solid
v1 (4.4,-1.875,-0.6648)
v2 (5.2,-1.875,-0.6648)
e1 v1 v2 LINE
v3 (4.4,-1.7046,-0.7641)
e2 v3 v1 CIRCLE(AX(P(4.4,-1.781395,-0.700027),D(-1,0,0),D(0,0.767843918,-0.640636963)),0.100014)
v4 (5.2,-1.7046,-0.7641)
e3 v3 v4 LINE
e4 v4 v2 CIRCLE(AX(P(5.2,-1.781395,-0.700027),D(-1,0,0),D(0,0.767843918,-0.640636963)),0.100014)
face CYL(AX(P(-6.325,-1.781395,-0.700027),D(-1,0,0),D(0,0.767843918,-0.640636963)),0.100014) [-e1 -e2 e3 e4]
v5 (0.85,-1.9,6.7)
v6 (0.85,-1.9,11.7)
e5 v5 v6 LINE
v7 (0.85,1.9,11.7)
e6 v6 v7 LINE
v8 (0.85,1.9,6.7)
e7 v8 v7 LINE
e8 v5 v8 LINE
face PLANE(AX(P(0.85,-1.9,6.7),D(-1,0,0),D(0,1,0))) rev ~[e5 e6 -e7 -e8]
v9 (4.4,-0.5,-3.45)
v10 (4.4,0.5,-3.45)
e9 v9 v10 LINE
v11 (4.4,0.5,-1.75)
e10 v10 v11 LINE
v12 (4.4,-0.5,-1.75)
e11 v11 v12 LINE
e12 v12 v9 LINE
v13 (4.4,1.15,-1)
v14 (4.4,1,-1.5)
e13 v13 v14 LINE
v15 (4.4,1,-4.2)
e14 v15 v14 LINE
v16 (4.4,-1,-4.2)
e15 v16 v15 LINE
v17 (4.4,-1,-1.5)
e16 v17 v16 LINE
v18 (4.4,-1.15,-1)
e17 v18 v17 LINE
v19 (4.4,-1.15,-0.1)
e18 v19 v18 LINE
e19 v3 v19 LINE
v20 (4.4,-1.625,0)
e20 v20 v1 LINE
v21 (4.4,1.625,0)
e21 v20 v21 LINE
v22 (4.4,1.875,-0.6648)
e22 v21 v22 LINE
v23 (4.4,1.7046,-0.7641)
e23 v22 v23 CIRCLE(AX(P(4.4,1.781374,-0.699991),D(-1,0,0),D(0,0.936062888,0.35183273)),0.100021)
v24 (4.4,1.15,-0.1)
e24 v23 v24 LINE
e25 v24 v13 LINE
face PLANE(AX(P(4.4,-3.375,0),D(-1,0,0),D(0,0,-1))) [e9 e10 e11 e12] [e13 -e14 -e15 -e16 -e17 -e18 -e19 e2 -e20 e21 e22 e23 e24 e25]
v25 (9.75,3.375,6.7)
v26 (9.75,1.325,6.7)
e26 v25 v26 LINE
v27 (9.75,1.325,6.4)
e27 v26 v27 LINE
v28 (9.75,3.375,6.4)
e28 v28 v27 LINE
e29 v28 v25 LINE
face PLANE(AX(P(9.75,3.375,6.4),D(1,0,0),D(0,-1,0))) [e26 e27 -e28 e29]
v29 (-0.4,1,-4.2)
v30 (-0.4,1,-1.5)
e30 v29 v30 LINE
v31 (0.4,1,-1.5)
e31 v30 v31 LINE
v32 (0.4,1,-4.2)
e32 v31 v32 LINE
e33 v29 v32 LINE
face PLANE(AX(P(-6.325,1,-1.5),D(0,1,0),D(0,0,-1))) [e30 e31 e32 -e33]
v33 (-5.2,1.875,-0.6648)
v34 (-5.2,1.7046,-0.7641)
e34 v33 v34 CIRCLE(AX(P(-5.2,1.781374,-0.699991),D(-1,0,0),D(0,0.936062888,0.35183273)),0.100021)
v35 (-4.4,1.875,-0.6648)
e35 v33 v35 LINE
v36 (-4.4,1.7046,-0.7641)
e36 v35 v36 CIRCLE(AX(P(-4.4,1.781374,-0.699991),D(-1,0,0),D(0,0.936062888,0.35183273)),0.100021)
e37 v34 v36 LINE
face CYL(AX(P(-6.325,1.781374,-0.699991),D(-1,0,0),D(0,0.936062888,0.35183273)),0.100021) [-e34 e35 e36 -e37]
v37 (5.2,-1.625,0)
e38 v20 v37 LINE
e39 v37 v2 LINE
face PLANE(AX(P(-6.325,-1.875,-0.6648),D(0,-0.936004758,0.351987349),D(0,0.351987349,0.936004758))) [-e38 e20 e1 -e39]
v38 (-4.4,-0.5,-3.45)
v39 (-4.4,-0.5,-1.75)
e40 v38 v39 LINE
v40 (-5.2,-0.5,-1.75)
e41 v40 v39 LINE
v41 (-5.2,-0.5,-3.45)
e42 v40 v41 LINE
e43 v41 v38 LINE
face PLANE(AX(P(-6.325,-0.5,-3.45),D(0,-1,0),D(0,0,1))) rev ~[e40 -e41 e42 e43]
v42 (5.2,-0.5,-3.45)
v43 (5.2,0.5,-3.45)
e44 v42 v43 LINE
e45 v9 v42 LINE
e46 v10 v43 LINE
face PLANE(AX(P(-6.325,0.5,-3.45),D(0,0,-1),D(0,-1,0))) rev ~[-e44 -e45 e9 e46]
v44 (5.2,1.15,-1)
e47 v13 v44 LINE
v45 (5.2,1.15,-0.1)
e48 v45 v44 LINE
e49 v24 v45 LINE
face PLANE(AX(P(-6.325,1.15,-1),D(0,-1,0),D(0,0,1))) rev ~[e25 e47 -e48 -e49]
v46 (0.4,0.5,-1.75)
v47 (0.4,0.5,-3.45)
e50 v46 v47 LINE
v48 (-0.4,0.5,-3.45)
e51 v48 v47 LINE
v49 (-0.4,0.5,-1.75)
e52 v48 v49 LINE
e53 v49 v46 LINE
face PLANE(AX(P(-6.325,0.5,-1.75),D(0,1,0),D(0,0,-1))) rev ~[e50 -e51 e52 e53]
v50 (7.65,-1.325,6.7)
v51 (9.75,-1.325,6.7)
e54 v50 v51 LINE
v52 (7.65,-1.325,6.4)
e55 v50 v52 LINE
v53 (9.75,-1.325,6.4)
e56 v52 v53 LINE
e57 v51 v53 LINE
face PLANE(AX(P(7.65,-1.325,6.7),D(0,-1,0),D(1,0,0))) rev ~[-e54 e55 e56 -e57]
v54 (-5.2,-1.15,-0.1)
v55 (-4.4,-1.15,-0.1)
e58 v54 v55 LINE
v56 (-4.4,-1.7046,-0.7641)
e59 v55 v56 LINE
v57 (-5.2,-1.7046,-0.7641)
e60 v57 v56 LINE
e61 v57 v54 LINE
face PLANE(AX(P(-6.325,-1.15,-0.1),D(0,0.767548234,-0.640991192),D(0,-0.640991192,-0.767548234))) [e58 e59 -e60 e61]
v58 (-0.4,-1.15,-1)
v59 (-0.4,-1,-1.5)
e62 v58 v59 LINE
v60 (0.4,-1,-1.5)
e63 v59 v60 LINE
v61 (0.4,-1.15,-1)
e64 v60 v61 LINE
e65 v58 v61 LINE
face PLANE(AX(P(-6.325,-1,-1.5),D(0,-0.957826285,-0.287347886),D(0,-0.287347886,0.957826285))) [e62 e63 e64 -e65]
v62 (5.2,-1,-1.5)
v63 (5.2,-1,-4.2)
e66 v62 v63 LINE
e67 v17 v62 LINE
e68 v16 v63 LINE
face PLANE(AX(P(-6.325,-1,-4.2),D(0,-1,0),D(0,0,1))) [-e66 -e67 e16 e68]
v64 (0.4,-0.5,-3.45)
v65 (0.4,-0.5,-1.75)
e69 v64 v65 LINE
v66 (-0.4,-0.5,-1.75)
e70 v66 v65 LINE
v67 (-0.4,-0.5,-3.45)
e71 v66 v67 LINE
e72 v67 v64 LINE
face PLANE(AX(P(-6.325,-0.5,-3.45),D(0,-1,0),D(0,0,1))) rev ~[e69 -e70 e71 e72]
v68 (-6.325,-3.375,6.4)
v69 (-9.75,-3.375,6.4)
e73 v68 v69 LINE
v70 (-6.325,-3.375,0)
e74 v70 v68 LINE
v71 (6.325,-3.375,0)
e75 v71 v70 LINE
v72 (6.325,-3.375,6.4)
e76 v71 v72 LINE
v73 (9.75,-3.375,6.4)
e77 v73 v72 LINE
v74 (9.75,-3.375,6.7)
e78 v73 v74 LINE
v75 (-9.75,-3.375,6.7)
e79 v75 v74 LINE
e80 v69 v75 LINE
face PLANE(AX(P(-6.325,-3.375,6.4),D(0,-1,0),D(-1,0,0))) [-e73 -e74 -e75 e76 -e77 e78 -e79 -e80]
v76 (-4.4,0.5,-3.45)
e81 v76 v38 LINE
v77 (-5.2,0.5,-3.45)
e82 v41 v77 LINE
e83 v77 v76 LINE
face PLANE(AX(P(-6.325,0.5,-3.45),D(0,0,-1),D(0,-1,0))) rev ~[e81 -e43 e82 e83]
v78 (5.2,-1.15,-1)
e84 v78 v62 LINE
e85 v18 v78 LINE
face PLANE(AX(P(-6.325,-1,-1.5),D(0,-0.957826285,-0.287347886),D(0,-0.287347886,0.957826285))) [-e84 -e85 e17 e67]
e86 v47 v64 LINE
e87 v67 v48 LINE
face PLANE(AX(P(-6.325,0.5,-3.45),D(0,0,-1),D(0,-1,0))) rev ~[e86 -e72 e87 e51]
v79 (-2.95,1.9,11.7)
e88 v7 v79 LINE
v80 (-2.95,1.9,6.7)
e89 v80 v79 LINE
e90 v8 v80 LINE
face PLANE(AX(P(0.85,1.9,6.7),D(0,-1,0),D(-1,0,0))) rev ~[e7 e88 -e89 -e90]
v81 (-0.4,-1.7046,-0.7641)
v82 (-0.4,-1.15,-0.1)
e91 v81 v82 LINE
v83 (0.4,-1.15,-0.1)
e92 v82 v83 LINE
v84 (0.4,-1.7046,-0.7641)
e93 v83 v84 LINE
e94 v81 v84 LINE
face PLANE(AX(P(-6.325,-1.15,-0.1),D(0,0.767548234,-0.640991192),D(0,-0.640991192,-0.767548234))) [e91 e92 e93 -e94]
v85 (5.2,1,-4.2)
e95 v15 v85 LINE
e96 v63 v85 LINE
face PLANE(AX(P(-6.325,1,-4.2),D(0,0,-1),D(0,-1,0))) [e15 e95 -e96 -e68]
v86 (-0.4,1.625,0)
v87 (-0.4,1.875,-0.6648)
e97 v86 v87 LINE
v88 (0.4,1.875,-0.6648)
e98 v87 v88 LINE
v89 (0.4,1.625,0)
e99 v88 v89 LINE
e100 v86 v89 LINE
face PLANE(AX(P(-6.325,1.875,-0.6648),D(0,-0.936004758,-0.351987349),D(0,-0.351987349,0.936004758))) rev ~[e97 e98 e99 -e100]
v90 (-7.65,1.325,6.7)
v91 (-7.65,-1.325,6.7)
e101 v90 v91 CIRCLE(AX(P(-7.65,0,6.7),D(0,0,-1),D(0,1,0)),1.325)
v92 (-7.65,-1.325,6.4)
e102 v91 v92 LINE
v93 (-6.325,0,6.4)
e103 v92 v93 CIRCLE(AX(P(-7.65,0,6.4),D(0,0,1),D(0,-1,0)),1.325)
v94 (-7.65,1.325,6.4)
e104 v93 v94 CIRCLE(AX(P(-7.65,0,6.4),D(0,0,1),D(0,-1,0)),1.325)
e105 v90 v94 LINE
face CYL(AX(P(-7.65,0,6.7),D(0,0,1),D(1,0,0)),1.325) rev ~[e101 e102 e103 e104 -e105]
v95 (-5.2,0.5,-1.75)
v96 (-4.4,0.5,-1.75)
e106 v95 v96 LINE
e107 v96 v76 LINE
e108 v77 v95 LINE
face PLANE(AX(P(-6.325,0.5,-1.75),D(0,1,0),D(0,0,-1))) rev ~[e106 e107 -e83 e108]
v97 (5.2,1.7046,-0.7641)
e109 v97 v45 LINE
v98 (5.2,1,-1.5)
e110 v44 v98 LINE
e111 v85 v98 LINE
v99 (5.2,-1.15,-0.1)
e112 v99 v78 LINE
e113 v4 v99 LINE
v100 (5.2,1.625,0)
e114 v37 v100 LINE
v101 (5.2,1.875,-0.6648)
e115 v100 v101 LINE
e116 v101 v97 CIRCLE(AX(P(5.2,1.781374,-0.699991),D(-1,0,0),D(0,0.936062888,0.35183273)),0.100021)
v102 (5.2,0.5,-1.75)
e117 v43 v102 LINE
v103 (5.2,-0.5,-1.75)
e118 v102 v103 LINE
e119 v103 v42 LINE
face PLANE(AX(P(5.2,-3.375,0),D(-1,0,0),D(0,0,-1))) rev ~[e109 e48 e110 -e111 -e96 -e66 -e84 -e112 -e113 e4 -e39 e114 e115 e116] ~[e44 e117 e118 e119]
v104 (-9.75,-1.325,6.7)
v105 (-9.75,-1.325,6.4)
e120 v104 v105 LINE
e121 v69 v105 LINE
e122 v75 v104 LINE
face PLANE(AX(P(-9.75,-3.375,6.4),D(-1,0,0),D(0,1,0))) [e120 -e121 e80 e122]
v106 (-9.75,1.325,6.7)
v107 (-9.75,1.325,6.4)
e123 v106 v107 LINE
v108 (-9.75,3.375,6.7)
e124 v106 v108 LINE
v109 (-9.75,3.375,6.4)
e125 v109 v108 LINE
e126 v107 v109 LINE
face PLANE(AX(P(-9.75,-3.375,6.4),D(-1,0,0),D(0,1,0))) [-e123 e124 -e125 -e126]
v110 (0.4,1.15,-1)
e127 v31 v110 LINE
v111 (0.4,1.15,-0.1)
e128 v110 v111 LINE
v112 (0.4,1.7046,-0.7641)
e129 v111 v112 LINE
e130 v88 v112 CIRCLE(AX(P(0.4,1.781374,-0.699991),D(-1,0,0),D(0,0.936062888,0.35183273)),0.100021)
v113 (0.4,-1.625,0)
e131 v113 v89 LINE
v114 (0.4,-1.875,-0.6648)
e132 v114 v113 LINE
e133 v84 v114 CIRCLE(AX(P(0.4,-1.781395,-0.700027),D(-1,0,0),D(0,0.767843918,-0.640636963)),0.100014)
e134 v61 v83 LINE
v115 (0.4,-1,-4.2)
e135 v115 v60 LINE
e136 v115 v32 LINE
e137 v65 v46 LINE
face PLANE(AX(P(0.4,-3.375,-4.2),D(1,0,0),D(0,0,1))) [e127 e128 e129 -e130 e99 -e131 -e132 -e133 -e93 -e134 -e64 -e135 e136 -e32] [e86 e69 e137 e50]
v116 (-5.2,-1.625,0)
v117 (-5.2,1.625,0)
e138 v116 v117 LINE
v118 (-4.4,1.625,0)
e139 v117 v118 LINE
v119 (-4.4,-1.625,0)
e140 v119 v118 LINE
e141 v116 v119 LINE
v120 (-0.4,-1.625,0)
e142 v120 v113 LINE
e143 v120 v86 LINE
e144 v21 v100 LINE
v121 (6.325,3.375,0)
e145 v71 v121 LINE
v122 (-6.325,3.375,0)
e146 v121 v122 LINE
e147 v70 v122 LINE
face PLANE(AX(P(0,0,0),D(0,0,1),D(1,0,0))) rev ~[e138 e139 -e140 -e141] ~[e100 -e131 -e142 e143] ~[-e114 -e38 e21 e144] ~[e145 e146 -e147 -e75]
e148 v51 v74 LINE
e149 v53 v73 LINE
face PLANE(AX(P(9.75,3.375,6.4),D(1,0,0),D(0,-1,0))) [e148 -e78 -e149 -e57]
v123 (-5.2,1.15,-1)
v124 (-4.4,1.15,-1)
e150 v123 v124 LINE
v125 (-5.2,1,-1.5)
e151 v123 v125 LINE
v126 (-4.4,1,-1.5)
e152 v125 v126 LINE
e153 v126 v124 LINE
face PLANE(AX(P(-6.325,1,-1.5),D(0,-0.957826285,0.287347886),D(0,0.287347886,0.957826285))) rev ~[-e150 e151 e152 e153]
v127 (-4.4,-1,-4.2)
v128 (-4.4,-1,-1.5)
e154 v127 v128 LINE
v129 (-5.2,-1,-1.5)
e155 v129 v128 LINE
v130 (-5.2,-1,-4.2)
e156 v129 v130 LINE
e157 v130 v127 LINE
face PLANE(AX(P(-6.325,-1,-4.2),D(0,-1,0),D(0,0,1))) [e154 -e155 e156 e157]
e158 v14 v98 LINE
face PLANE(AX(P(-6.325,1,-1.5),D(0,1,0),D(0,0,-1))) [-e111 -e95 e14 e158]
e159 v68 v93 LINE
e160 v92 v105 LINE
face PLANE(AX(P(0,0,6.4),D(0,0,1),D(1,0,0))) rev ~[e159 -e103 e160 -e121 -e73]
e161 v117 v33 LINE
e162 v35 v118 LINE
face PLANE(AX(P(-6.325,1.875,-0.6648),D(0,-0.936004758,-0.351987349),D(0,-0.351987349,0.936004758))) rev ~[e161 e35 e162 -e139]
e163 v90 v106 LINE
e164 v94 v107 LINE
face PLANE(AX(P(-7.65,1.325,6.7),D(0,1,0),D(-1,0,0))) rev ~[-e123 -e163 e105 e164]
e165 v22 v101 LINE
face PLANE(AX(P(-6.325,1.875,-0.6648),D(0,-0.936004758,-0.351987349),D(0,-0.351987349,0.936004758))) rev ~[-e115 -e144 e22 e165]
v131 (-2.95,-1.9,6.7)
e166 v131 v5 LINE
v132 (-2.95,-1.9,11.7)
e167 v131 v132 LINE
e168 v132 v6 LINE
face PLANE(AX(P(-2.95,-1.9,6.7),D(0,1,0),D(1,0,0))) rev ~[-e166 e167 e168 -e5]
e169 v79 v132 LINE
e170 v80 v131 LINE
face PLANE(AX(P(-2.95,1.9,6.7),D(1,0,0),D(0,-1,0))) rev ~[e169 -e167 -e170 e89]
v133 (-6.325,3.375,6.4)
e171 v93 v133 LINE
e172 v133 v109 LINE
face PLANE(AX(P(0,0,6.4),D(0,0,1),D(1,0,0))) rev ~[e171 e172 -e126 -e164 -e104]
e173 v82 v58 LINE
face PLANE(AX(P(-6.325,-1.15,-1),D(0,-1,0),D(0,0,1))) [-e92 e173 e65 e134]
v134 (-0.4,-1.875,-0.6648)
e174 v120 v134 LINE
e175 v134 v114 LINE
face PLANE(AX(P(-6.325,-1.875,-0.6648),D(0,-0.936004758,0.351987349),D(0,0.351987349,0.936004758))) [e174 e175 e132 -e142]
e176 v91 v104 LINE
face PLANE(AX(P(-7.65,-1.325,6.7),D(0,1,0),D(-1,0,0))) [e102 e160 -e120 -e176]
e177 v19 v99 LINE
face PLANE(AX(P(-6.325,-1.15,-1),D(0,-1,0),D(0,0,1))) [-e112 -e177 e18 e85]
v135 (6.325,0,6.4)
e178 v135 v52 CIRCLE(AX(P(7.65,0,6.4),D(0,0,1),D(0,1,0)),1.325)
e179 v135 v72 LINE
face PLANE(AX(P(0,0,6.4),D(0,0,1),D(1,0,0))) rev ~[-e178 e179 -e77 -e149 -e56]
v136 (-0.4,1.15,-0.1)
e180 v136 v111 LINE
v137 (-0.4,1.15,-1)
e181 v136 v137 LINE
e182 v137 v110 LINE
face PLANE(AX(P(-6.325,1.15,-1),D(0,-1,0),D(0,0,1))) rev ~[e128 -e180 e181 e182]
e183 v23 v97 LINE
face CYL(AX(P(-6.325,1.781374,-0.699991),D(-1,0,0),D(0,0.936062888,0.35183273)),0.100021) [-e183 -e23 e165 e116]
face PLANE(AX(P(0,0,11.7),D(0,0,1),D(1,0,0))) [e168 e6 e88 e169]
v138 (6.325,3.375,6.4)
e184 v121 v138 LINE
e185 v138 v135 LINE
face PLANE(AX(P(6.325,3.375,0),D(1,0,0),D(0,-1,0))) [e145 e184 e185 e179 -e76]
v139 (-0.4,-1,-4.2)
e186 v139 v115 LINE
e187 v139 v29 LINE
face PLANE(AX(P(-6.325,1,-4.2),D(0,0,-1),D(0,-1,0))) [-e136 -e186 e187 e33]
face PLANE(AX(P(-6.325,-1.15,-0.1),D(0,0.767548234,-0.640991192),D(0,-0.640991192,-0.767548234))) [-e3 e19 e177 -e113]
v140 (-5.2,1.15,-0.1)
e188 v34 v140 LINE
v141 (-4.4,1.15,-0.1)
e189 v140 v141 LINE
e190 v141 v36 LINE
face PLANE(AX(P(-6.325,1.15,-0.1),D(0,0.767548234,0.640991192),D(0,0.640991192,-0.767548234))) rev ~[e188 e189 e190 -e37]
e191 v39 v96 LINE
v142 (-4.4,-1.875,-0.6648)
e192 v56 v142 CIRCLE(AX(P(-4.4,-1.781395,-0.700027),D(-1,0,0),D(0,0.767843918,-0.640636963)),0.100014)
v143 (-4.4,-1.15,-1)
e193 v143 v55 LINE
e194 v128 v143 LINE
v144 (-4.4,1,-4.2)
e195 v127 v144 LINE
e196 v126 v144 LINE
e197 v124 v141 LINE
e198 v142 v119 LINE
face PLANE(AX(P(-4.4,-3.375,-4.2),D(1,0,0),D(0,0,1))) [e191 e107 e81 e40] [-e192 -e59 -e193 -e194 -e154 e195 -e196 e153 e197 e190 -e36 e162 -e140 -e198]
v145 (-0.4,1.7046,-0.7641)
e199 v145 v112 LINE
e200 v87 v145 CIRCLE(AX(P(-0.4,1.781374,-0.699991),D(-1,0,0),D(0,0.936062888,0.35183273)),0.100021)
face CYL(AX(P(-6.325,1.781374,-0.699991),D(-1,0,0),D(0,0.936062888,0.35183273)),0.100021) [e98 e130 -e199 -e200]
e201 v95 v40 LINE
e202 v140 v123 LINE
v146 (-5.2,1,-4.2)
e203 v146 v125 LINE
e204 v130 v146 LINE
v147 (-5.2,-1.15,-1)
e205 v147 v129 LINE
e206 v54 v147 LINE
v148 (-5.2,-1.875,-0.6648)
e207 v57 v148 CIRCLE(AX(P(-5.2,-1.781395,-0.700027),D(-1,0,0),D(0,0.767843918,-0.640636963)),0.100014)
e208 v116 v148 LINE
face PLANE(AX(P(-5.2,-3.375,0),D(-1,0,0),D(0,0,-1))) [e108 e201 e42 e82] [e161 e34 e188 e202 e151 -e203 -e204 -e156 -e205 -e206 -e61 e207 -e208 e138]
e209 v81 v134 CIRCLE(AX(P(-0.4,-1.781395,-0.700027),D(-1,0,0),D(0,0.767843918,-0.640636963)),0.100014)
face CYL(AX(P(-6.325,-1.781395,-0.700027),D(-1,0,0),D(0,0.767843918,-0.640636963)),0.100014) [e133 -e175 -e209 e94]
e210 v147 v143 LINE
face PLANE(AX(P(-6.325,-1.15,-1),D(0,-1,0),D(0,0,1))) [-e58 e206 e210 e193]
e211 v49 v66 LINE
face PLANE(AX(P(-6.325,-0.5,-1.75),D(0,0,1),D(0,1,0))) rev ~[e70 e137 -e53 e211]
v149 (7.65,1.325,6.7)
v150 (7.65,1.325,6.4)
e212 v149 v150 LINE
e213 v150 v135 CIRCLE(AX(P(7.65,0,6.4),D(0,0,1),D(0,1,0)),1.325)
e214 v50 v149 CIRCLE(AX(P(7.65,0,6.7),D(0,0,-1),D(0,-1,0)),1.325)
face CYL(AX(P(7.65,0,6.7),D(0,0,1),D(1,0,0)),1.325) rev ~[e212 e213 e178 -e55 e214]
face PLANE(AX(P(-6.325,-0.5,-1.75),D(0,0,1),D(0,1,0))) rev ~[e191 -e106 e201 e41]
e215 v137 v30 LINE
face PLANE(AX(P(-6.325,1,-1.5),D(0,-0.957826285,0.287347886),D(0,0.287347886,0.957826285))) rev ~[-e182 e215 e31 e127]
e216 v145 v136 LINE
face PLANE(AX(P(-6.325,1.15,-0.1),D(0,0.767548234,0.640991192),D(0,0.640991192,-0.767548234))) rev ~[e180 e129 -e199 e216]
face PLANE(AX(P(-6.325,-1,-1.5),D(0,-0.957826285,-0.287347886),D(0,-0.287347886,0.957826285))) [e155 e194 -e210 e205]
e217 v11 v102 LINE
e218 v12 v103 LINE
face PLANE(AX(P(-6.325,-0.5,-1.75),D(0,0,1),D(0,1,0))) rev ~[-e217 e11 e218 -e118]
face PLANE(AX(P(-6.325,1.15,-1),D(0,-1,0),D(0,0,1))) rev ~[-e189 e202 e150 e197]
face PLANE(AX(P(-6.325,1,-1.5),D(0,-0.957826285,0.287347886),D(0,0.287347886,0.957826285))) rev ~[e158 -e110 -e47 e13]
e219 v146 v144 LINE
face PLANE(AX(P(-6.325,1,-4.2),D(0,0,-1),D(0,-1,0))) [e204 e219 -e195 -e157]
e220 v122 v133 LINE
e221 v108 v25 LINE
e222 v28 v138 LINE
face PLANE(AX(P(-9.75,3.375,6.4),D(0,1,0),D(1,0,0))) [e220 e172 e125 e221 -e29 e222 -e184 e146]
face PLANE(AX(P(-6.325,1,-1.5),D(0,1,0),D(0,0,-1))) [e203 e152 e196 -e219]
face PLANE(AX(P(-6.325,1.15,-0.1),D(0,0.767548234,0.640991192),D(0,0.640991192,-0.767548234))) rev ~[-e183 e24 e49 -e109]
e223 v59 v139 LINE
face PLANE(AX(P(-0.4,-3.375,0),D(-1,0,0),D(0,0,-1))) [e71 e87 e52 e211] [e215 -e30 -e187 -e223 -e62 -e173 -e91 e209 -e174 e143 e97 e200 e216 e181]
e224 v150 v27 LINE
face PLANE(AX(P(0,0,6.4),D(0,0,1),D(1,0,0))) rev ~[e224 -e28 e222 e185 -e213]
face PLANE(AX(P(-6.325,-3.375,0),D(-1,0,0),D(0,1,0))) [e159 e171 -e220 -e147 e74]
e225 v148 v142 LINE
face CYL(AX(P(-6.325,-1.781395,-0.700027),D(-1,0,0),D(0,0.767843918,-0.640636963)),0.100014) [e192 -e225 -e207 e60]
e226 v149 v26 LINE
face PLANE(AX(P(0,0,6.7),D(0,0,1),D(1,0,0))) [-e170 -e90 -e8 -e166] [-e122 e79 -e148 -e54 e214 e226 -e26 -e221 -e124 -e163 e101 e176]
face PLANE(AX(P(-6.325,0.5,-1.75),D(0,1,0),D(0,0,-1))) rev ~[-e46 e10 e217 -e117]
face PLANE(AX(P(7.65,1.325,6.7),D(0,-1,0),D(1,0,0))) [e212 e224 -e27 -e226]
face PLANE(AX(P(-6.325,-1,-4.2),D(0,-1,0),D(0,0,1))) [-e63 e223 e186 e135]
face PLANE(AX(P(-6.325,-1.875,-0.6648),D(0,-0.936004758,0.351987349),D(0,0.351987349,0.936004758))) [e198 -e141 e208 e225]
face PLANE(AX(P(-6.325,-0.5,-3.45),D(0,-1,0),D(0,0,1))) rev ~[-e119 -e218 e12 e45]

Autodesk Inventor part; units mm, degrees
ref_plane "YZ Plane" through (0, 0, 0) normal (1, 0, 0) x (0, 1, 0)
ref_plane "XZ Plane" through (0, 0, 0) normal (0, 1, 0) x (-1, 0, 0)
ref_plane "XY Plane" through (0, 0, 0) normal (0, 0, 1) x (1, 0, 0)
sketch "Náčrt1" plane through (0, 0, 0) normal (0, 0, 1) x (1, 0, 0)
  line L0 (-6.325, 3.375) -> (6.325, 3.375)
  line L1 (6.325, 3.375) -> (6.325, -3.375)
  line L2 (6.325, -3.375) -> (-6.325, -3.375)
  line L3 (-6.325, -3.375) -> (-6.325, 3.375)
  line L4 (0, 0) -> (-6.325, 3.375) construction
  line L5 (6.325, 3.375) -> (0, 0) construction
  line L6 (6.325, -3.375) -> (0, 0) construction
  dimension "d0" = 12.65
  dimension "d1" = 6.75
extrude "Vysunutí1" add sketch "Náčrt1" along normal blind 6.4
sketch "Náčrt2" plane through (0, 0, 6.4) normal (0, 0, 1) x (1, 0, 0)
  line L0 (-9.75, 3.375) -> (9.75, 3.375)
  line L1 (9.75, 3.375) -> (9.75, -3.375)
  line L2 (9.75, -3.375) -> (-9.75, -3.375)
  line L3 (-9.75, -3.375) -> (-9.75, 3.375)
  line L4 (6.325, -3.375) -> (6.325, 3.375) projected
  line L5 (6.325, 0) -> (9.75, 0) construction
  line L6 (-9.75, 0) -> (-6.325, 0) construction
  line L7 (-6.325, 3.375) -> (-6.325, -3.375) projected
  point P0 (0, 0)
  dimension "d4" = 19.5
extrude "Vysunutí2" add sketch "Náčrt2" along normal blind 0.3
sketch "Náčrt3" plane through (0, 0, 6.7) normal (0, 0, 1) x (1, 0, 0)
  circle A0 centre (-7.65, 0) radius 1.325
  circle A1 centre (7.65, 0) radius 1.325
  line L0 (-6.325, 3.375) -> (-6.325, -3.375) projected
  line L1 (6.325, -3.375) -> (6.325, 3.375) projected
  line L2 (-7.65, 1.325) -> (-9.75, 1.325)
  line L3 (-9.75, 3.375) -> (-9.75, -3.375) projected
  line L4 (-7.65, -1.325) -> (-9.75, -1.325)
  line L5 (7.65, 1.325) -> (9.75, 1.325)
  line L6 (9.75, -3.375) -> (9.75, 3.375) projected
  line L7 (7.65, -1.325) -> (9.75, -1.325)
  point P0 (0, 0)
  dimension "d7" = 2.65
extrude "Vysunutí3" cut sketch "Náčrt3" against normal up to surface (0.3 mm away)
sketch "Náčrt4" plane through (-6.325, -3.375, 0) normal (-1, 0, 0) x (0, 0, 1)
  line L0 (0, 0) -> (0, 6.75) projected
  line L1 (-1.5, 4.375) -> (-4.2, 4.375)
  line L2 (-4.2, 4.375) -> (-4.2, 2.375)
  line L3 (-4.2, 2.375) -> (-1.5, 2.375)
  line L4 (-3.45, 2.875) -> (-1.75, 2.875)
  line L5 (-1.75, 2.875) -> (-1.75, 3.875)
  line L6 (-1.75, 3.875) -> (-3.45, 3.875)
  line L7 (-3.45, 3.875) -> (-3.45, 2.875)
  line L8 (0, 0) -> (6.4, 0) projected
  line L9 (-4.2, 2.375) -> (0, 0) construction
  line L10 (-4.2, 4.375) -> (0, 6.75) construction
  line L11 (-1.5, 4.375) -> (-1, 4.525)
  line L12 (-1.5, 2.375) -> (-1, 2.225)
  line L13 (-1, 4.525) -> (-0.1, 4.525)
  line L14 (-0.1, 4.525) -> (-0.7641, 5.0796)
  arc A0 (-0.6648, 5.25) -> (-0.7641, 5.0796) centre (-0.7, 5.1564) ccw
  line L15 (-0.6648, 5.25) -> (0, 5)
  line L16 (-1, 2.225) -> (-0.1, 2.225)
  line L17 (-0.1, 2.225) -> (-0.7641, 1.6704)
  arc A1 (-0.7641, 1.6704) -> (-0.6648, 1.5) centre (-0.7, 1.5936) ccw
  line L18 (-0.6648, 1.5) -> (0, 1.75)
  line L19 (-0.1, 4.525) -> (0, 5) construction
  line L20 (-0.1, 2.225) -> (0, 1.75) construction
  point P0 (0, 3.375)
  dimension "d10" = 2
  dimension "d11" = 4.2
  dimension "d12" = 0.5
  dimension "d13" = 0.5
  dimension "d14" = 1.75
  dimension "d16" = 0.75
  dimension "d18" = 1.5
  dimension "d19" = 2.3
  dimension "d20" = 1
  dimension "d22" = 0.8
  dimension "d23" = 3.75
  dimension "d24" = 0.1
  dimension "d25" = 3.25
  dimension "d27" = 0.1
extrude "Vysunutí4" add sketch "Náčrt4" against normal up to surface (12.65 mm away)
sketch "Náčrt5" plane through (-6.325, -3.375, 0) normal (0, -1, 0) x (1, 0, 0)
  line L0 (12.65, 0) -> (12.65, 6.4) projected
  line L1 (12.65, 0) -> (11.525, 0)
  line L2 (11.525, 0) -> (11.525, -4.2)
  line L3 (11.525, -4.2) -> (12.65, -4.2)
  line L4 (12.65, -4.2) -> (12.65, 0)
  line L5 (0, 0) -> (12.65, 0) projected
  line L6 (10.725, -4.2) -> (6.725, -4.2)
  line L7 (6.725, -4.2) -> (6.725, 0)
  line L8 (6.725, 0) -> (10.725, 0)
  line L9 (10.725, 0) -> (10.725, -4.2)
  line L10 (5.925, -4.2) -> (1.925, -4.2)
  line L11 (1.925, -4.2) -> (1.925, 0)
  line L12 (1.925, 0) -> (5.925, 0)
  line L13 (5.925, 0) -> (5.925, -4.2)
  line L14 (1.125, -4.2) -> (0, -4.2)
  line L15 (0, -4.2) -> (0, 0)
  line L16 (0, 0) -> (1.125, 0)
  line L17 (1.125, 0) -> (1.125, -4.2)
  line L18 (0, -4.2) -> (12.65, -4.2) projected
  line L19 (11.525, -2.1) -> (10.725, -2.1) construction
  line L20 (6.725, -2.1) -> (5.925, -2.1) construction
  line L21 (1.925, -2.1) -> (1.125, -2.1) construction
  point P0 (6.325, 0)
  point P1 (1.125, 0)
  dimension "d30" = 0.8
  dimension "d31" = 4
extrude "Vysunutí5" cut sketch "Náčrt5" against normal through all contours L4 L3 L2 L1 | L9 L6 L7 L5 | L13 L10 L11 L5 | L17 L14 L15 L5
sketch "Náčrt6" plane through (0, 0, 6.7) normal (0, 0, 1) x (1, 0, 0)
  line L0 (0.85, 1.9) -> (-2.95, 1.9)
  line L1 (-2.95, 1.9) -> (-2.95, -1.9)
  line L2 (-2.95, -1.9) -> (0.85, -1.9)
  line L3 (0.85, -1.9) -> (0.85, 1.9)
  line L4 (-9.75, -1.325) -> (-9.75, -3.375) projected
  point P0 (0, 0)
  point P1 (0.85, 0)
  dimension "d34" = 3.8
  dimension "d35" = 6.8
extrude "Vysunutí6" add sketch "Náčrt6" along normal blind 5
properties part number "switch"
